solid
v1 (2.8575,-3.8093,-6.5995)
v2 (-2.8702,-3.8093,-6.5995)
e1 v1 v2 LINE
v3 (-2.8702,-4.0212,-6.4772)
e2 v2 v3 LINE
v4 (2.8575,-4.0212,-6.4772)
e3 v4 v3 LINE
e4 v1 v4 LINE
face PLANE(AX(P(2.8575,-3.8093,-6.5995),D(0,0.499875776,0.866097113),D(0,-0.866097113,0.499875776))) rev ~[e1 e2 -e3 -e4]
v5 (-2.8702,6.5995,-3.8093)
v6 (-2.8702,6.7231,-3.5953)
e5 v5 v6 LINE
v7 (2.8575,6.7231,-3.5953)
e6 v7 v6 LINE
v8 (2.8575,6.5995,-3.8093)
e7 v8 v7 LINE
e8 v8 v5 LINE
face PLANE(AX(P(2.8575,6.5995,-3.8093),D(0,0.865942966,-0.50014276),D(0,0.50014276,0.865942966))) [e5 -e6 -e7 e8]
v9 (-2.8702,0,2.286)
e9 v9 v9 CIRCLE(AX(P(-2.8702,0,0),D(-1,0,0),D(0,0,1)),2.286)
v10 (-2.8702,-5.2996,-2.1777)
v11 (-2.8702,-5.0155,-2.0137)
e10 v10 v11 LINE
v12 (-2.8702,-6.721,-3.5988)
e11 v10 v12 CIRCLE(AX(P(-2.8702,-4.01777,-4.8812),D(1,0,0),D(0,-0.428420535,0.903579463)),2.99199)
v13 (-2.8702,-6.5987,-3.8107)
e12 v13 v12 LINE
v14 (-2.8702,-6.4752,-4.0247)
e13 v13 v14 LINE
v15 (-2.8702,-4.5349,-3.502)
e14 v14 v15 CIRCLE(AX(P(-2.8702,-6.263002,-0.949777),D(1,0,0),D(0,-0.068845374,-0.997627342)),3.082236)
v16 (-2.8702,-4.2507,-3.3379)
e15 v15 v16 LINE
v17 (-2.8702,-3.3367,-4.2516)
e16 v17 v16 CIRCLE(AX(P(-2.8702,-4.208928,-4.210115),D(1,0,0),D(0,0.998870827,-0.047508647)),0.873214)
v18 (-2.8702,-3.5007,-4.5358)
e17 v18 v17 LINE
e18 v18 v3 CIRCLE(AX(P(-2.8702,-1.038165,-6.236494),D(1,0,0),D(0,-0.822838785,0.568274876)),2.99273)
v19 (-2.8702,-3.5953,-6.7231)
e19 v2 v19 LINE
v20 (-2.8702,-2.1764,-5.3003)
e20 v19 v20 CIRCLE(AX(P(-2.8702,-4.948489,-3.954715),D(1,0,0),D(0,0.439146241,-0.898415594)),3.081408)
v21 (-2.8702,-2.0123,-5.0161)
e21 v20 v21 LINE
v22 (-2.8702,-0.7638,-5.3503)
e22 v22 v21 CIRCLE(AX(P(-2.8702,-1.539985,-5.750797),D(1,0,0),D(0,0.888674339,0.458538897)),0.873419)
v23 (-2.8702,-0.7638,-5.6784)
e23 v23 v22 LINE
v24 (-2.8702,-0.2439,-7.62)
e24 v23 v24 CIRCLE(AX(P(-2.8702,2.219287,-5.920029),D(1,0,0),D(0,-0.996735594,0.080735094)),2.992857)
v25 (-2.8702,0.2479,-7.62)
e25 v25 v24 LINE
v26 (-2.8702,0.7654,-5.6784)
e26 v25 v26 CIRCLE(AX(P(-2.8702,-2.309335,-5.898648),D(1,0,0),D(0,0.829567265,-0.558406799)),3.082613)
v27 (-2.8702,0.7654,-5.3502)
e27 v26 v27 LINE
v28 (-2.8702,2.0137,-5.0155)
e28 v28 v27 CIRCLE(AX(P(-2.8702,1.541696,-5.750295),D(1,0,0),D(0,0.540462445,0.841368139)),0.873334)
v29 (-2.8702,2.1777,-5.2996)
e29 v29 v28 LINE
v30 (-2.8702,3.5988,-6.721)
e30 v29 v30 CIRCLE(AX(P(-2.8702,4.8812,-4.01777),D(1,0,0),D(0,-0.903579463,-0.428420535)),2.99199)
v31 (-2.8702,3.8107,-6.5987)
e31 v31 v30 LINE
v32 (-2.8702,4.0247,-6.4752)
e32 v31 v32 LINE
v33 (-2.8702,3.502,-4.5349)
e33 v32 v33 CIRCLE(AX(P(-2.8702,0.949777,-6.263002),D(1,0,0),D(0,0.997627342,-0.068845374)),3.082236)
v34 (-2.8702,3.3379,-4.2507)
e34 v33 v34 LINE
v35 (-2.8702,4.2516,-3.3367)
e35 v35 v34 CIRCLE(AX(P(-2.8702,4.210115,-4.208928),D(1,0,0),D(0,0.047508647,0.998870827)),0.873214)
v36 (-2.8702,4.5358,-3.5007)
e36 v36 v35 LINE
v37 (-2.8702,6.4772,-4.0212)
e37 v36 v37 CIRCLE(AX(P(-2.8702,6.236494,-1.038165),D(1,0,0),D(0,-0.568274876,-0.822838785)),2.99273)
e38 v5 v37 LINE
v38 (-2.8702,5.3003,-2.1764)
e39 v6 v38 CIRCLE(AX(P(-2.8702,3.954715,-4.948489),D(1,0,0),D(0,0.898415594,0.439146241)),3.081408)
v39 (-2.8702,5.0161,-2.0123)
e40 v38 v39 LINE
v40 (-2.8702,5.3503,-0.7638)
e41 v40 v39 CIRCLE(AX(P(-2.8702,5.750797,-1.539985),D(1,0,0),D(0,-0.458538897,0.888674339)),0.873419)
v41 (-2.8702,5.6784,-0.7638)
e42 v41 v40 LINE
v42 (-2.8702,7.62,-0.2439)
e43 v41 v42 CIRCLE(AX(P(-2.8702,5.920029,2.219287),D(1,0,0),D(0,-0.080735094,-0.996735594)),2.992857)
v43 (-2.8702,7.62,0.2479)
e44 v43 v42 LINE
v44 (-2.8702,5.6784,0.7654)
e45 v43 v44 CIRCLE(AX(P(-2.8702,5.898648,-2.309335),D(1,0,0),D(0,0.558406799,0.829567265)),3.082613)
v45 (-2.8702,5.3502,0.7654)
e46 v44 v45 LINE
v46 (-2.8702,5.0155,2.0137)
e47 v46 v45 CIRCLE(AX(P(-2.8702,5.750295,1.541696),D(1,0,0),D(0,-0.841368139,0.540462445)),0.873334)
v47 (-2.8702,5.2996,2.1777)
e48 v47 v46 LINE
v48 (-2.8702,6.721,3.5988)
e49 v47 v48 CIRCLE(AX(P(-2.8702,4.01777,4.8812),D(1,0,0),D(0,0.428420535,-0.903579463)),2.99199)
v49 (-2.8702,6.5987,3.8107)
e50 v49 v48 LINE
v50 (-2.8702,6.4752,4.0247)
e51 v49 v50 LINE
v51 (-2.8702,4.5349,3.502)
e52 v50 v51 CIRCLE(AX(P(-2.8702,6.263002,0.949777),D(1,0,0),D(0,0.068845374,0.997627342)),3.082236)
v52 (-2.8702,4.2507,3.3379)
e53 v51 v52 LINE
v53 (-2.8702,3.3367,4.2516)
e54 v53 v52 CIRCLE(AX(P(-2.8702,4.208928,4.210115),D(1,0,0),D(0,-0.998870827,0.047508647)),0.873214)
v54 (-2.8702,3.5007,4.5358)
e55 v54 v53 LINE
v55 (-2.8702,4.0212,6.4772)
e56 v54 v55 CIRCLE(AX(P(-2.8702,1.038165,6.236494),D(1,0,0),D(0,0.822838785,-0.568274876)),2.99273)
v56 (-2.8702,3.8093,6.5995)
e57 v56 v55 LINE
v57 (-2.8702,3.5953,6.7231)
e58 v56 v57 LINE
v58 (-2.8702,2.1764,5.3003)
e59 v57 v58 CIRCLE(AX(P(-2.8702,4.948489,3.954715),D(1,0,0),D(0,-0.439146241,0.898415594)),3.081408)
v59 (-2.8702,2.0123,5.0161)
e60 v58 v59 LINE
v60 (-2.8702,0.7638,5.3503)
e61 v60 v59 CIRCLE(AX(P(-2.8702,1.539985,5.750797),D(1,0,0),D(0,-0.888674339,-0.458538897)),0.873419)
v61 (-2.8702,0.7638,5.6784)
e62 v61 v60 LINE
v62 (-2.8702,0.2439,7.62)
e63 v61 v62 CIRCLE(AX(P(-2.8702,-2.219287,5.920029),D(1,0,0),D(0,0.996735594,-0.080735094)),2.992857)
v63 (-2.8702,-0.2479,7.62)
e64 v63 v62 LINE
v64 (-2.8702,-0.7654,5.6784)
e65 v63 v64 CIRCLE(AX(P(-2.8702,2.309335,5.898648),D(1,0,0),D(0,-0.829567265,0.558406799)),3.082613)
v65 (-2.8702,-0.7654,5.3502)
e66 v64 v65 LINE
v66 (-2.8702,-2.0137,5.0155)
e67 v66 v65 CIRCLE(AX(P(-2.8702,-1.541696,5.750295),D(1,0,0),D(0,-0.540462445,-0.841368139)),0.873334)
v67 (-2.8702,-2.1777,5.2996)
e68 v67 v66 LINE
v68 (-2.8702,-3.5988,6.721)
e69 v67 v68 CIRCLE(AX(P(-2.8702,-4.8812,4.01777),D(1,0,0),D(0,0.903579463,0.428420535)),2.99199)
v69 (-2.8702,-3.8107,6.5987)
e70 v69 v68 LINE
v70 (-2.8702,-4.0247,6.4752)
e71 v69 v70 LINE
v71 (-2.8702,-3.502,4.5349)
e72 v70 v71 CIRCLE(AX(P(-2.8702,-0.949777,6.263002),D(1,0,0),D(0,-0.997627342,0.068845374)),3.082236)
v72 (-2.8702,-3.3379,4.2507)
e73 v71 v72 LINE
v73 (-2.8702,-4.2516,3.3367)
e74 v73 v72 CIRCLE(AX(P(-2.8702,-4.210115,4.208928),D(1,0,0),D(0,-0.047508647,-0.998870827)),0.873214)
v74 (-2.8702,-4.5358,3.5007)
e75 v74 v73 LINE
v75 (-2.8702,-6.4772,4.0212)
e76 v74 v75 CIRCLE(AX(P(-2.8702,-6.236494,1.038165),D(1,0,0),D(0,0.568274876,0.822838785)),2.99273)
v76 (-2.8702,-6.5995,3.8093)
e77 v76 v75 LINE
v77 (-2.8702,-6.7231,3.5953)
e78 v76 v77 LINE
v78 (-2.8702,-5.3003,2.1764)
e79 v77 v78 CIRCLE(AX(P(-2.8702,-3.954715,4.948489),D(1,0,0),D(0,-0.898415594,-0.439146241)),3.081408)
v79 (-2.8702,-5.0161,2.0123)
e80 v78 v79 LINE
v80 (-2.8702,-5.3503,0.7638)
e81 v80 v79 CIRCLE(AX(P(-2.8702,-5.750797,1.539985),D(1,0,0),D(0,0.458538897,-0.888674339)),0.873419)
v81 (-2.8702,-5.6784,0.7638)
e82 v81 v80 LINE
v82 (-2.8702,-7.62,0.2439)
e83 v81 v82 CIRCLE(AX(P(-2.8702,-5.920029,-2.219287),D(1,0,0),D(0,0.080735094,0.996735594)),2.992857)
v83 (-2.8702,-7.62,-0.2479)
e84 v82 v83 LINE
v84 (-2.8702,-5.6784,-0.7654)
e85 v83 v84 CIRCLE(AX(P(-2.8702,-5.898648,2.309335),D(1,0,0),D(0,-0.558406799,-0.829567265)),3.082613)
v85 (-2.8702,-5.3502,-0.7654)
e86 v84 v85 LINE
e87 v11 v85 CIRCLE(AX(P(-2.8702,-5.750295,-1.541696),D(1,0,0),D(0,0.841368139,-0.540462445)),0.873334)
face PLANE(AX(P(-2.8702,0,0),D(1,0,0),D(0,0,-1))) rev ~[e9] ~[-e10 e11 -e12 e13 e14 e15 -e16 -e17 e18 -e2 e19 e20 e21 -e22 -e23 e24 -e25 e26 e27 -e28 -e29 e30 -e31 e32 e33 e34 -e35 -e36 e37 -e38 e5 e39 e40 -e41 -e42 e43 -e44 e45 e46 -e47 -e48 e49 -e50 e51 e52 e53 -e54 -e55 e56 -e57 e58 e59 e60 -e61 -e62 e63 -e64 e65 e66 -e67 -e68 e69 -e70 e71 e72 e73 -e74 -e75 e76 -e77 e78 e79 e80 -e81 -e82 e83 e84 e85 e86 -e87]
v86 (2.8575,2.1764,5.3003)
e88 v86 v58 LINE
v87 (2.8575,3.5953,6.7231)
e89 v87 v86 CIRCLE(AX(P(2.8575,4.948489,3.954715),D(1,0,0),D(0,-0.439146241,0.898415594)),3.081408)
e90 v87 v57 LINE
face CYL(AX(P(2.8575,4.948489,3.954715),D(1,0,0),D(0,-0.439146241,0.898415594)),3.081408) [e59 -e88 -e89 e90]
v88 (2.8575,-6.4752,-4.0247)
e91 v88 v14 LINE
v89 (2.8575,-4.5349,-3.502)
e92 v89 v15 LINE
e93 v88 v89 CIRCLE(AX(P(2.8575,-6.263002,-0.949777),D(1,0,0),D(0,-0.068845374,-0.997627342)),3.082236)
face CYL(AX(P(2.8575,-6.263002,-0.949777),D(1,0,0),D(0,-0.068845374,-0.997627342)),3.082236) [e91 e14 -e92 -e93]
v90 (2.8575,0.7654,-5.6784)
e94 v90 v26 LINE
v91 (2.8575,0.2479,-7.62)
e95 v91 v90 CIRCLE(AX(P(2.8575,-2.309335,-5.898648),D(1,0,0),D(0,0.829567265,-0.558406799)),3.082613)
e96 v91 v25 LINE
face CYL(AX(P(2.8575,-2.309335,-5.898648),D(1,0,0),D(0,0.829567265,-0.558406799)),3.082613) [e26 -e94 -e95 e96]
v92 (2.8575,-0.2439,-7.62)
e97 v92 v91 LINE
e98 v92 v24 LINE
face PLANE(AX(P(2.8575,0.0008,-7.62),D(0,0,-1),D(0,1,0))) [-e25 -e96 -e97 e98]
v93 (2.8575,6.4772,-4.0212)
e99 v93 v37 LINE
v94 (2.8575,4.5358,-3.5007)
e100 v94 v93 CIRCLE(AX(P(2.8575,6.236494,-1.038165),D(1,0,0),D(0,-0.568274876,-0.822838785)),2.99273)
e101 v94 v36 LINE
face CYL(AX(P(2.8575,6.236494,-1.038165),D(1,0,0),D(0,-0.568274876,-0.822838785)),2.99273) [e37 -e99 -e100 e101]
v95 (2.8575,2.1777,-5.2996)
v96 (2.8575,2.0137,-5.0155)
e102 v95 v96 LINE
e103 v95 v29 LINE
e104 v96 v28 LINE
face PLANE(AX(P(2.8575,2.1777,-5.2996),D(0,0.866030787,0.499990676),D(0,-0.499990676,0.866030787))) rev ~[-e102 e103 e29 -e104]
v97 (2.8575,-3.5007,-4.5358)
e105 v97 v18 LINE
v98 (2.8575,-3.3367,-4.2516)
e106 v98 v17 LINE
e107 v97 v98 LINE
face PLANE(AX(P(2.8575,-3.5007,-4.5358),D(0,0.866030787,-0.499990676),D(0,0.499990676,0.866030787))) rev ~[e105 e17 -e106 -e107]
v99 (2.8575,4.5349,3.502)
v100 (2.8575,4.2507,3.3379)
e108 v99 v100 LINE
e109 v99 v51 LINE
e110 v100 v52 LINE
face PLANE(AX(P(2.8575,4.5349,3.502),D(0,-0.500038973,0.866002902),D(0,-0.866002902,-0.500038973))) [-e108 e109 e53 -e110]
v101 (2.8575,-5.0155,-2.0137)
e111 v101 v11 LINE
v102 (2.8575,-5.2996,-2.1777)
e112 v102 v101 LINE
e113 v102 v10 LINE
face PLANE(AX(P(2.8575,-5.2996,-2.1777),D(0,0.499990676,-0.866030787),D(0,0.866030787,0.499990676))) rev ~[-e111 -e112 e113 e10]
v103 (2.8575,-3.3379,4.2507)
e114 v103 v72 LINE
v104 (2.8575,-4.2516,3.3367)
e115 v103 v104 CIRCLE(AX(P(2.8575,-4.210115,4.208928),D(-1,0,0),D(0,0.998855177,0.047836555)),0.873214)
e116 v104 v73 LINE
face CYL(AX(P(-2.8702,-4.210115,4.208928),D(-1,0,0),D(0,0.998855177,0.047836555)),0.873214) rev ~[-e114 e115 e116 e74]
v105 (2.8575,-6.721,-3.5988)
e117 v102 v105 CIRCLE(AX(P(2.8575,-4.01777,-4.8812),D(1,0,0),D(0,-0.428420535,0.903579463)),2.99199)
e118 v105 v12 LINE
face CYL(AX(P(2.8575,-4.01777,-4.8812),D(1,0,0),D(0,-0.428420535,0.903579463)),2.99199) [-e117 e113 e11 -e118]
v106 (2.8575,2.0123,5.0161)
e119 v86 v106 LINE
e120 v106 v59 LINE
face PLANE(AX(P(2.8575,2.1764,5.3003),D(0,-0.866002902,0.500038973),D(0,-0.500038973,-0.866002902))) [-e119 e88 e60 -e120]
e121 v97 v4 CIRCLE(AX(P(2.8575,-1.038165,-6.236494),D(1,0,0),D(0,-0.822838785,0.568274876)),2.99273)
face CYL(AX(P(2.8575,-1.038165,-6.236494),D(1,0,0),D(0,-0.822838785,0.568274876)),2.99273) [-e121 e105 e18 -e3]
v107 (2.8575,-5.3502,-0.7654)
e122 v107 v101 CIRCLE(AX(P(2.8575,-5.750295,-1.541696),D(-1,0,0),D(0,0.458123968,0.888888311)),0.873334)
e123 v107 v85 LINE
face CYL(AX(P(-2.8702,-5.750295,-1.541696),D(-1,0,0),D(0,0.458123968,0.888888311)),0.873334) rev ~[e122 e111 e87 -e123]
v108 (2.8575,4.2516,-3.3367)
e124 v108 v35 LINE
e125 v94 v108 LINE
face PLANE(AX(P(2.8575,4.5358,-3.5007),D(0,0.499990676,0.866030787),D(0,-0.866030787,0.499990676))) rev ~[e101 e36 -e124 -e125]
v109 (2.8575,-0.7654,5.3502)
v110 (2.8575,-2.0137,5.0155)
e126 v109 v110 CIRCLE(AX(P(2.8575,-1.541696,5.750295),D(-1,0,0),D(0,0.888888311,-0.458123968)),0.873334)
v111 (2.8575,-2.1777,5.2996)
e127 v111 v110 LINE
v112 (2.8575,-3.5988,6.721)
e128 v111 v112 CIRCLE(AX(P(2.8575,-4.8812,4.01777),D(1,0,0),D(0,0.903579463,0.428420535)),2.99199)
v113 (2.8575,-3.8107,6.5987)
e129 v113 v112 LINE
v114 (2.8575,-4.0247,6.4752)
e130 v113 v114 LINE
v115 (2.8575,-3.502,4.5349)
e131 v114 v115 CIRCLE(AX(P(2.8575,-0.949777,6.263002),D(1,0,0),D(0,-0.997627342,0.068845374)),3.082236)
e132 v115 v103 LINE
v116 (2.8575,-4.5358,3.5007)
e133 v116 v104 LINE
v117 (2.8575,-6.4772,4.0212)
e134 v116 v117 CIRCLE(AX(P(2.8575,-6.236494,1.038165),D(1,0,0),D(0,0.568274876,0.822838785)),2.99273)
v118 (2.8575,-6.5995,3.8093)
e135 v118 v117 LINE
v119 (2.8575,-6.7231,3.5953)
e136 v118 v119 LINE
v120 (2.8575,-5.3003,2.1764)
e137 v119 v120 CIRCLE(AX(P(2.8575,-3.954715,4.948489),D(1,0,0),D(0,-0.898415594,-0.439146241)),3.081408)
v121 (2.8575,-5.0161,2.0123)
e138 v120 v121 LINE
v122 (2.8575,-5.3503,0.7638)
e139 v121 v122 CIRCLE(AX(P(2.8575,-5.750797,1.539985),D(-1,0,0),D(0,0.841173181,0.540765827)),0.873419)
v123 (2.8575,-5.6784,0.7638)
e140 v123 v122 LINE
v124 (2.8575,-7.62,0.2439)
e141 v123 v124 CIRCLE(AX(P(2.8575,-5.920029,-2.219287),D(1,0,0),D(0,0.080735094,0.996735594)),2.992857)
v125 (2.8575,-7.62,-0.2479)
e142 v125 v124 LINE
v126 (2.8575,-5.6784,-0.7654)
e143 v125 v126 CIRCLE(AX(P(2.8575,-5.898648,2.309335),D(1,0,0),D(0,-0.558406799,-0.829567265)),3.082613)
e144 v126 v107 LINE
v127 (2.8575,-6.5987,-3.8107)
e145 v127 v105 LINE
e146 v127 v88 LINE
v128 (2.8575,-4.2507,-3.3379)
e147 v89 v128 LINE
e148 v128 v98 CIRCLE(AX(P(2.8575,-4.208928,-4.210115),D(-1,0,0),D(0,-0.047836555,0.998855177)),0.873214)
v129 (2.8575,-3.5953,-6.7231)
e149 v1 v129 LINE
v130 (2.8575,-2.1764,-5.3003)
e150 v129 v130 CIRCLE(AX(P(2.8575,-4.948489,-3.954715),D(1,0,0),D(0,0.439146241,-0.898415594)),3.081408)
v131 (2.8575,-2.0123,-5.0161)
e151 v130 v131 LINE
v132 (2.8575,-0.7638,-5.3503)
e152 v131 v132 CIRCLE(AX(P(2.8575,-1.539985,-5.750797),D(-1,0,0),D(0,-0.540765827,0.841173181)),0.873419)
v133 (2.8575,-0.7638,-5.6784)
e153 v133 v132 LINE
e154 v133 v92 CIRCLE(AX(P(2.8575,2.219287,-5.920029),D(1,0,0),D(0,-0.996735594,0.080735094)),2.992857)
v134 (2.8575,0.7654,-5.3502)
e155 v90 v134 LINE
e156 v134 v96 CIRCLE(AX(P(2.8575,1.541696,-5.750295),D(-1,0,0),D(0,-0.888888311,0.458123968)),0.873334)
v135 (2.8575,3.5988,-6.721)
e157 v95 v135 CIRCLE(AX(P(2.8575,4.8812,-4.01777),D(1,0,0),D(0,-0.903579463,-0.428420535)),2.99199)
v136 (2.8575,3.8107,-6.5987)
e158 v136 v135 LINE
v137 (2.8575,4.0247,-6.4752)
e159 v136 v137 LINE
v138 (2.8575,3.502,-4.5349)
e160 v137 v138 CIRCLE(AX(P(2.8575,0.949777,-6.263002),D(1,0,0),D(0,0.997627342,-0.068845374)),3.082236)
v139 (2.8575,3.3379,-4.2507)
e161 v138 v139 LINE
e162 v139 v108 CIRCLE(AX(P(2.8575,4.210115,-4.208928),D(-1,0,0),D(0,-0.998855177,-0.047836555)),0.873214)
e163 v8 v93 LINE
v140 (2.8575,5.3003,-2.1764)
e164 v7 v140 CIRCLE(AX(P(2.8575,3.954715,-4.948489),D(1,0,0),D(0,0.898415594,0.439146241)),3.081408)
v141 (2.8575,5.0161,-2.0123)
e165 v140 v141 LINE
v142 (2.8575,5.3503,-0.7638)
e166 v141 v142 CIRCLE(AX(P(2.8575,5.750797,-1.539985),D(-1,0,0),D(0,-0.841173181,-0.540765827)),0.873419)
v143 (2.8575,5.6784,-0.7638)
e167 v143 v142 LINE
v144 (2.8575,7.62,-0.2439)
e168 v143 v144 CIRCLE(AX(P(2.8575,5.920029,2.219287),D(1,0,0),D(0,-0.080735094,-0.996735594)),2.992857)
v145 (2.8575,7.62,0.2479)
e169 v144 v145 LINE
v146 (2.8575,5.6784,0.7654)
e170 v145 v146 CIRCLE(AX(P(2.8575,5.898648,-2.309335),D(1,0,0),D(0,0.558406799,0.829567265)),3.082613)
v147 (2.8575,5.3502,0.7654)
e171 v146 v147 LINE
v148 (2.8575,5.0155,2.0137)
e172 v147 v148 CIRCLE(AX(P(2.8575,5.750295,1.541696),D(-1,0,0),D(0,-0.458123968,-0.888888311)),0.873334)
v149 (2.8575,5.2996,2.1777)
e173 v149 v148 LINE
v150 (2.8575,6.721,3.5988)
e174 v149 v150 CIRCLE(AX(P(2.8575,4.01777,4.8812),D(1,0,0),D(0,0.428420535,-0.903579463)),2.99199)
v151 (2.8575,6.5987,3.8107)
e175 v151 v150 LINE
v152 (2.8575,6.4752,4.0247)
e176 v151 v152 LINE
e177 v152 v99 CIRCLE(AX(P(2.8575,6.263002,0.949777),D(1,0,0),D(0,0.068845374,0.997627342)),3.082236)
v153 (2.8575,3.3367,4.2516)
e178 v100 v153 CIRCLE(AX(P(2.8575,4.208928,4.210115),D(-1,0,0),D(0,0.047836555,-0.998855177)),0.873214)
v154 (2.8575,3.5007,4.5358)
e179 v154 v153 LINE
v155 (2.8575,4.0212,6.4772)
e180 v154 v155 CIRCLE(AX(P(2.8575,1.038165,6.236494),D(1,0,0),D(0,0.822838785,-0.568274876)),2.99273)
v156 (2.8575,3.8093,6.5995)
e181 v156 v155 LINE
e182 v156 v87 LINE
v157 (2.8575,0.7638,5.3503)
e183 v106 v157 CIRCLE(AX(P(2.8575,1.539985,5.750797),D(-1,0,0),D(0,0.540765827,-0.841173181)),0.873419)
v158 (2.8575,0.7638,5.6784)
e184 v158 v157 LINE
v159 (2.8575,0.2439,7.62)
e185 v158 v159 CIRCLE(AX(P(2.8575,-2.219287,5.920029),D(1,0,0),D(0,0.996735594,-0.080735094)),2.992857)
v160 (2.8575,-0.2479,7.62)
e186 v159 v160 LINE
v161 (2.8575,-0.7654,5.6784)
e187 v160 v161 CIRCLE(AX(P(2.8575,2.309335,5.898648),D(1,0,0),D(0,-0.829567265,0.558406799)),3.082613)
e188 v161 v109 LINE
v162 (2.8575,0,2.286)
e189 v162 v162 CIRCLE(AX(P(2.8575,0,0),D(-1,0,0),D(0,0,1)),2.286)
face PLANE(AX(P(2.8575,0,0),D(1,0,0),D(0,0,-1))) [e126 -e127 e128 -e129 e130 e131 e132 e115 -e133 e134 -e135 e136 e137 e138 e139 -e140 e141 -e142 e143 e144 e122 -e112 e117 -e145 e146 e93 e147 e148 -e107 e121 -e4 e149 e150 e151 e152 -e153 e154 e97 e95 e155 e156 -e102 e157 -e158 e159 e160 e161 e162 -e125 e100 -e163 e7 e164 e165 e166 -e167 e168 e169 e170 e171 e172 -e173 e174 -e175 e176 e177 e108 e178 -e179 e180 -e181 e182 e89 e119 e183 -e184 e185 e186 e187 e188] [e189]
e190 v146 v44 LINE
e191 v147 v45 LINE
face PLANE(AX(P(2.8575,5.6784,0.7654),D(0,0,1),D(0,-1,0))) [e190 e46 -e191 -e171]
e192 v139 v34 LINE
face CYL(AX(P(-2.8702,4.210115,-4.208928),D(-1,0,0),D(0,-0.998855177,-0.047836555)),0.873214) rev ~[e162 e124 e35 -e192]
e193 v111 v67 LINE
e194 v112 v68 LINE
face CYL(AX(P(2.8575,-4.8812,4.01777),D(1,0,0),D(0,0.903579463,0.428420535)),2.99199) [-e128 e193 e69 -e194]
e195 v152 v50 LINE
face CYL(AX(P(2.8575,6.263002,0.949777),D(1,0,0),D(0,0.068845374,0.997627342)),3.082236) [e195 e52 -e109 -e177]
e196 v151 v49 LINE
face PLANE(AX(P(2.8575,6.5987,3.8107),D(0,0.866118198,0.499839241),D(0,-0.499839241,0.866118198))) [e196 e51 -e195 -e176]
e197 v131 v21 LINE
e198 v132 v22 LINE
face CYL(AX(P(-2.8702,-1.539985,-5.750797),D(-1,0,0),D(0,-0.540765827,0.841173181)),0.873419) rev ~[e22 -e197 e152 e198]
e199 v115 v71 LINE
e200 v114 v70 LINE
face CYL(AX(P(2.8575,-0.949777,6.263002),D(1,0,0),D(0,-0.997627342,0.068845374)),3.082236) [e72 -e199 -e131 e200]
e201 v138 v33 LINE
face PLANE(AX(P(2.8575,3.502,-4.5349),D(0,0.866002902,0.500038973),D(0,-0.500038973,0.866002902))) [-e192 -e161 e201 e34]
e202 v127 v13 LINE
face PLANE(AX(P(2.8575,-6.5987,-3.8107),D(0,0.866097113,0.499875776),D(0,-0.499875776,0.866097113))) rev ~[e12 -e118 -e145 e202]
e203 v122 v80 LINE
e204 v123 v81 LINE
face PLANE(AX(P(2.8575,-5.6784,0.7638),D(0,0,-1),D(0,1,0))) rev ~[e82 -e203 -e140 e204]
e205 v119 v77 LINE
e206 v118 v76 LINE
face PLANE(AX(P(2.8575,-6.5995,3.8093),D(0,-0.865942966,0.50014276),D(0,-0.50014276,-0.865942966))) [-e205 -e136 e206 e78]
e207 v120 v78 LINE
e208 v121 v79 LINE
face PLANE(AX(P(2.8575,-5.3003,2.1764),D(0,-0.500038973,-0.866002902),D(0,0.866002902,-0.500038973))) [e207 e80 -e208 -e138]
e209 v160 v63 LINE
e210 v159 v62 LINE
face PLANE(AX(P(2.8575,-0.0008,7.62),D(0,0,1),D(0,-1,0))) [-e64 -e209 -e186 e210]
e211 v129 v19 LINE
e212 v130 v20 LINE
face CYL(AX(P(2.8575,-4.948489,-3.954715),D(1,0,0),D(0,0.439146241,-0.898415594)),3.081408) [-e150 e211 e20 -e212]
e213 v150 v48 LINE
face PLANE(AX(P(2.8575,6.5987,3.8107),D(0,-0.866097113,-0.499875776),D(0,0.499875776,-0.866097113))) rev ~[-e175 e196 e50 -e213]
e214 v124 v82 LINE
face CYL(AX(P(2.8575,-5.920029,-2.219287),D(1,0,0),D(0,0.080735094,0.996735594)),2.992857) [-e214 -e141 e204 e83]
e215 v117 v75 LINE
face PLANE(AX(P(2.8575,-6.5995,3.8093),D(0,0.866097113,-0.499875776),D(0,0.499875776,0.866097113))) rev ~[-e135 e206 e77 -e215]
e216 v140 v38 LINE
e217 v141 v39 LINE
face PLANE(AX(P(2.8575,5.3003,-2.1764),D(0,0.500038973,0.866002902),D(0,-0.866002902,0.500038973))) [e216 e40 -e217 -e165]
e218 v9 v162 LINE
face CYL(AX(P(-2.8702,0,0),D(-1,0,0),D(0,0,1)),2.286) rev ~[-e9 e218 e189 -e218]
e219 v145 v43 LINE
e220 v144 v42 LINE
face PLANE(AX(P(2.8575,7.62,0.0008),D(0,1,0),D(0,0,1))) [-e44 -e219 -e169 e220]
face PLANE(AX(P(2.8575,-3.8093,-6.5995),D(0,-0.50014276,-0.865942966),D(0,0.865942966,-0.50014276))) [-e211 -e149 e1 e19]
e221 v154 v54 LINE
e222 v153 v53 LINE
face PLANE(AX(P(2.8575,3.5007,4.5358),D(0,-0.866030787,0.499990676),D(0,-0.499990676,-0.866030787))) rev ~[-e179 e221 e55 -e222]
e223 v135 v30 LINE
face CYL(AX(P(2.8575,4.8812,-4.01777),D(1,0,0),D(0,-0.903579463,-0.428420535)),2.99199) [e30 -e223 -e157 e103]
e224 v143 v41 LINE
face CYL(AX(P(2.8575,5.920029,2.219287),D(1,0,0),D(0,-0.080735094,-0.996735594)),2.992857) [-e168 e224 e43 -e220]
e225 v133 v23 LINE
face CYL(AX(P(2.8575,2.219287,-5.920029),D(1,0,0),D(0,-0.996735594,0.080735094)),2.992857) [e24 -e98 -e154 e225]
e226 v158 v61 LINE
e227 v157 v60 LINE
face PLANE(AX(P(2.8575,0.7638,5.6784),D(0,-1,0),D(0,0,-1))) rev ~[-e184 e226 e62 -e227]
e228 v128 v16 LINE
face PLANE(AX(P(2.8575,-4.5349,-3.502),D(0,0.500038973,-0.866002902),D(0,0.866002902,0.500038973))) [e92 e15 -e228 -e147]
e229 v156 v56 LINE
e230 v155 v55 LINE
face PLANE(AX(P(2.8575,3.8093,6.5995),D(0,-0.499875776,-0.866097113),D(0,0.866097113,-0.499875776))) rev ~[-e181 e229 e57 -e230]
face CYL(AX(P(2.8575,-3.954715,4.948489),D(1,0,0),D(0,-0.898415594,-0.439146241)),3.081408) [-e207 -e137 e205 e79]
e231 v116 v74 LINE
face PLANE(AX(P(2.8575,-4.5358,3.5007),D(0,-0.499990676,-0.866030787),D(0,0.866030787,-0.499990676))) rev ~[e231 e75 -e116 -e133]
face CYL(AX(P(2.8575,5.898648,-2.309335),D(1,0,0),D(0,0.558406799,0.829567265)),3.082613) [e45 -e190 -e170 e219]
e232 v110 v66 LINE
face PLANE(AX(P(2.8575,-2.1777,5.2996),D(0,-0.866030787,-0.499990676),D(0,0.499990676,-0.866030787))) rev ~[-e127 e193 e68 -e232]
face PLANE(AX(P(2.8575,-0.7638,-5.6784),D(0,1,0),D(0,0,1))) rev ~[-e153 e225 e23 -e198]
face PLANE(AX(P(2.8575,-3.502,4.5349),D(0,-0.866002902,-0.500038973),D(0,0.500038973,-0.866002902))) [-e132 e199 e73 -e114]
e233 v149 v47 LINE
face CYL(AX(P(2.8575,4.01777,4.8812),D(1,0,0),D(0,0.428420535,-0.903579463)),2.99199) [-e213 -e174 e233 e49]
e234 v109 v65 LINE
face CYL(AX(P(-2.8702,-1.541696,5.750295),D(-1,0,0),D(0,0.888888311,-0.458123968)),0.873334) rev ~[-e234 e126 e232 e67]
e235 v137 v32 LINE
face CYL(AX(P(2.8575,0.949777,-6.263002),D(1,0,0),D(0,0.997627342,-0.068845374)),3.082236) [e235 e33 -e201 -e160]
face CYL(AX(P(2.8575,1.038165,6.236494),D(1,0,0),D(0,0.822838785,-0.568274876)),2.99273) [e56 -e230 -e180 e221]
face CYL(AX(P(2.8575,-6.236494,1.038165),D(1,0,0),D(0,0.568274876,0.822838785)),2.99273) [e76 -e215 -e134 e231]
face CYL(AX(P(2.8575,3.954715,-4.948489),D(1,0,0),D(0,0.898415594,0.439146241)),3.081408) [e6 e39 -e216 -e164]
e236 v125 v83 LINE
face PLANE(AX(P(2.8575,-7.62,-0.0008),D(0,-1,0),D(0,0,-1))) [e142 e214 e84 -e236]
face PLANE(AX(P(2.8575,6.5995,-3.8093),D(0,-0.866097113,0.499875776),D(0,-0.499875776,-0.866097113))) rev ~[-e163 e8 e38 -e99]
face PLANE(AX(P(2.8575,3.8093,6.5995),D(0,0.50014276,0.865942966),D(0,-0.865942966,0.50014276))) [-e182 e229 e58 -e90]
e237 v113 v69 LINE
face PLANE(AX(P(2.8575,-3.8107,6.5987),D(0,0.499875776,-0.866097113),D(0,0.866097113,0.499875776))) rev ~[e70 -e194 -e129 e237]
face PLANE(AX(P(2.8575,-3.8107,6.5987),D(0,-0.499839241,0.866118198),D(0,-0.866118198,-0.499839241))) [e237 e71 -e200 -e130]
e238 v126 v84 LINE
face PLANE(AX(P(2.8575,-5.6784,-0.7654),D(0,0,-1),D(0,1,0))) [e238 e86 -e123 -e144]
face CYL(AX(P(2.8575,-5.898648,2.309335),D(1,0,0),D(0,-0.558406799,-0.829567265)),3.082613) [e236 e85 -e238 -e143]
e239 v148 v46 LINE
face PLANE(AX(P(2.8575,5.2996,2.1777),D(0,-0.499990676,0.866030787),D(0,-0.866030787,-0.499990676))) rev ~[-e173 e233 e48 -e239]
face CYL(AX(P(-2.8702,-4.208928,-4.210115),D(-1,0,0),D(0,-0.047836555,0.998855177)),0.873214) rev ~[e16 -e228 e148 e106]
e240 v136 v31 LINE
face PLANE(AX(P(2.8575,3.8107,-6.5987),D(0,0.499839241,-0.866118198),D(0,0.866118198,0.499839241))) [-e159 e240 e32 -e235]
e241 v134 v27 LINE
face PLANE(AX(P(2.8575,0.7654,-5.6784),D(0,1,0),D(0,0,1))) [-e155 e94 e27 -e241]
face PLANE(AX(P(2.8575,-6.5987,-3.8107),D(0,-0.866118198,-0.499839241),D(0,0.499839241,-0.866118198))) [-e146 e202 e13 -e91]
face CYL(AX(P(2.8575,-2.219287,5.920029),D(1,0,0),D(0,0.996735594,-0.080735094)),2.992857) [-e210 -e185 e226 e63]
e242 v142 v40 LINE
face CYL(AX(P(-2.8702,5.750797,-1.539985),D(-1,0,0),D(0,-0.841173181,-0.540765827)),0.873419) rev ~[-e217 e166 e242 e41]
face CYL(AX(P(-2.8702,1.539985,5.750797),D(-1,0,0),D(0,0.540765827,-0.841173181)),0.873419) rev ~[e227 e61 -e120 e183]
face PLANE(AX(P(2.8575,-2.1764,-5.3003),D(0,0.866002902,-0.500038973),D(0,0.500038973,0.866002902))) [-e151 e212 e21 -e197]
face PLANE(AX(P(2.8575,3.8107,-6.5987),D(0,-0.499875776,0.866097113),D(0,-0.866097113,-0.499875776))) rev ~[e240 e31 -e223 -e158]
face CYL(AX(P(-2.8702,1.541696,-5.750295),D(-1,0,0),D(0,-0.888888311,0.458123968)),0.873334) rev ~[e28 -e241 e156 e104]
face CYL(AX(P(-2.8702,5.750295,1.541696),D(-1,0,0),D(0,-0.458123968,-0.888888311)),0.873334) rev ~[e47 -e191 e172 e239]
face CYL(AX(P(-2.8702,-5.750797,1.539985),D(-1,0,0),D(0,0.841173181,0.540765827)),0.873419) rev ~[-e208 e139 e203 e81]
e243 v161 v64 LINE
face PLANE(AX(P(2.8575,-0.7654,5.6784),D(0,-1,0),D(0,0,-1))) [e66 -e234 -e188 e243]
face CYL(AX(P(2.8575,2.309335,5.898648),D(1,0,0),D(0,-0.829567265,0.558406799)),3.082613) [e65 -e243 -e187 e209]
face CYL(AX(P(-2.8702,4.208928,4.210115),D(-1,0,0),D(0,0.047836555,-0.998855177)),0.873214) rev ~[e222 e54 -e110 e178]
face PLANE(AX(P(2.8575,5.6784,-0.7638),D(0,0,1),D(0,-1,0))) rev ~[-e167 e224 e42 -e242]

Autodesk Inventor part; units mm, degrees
ref_plane "YZ Plane" through (0, 0, 0) normal (1, 0, 0) x (0, 1, 0)
ref_plane "XZ Plane" through (0, 0, 0) normal (0, 1, 0) x (-1, 0, 0)
ref_plane "Work Plane2" through (2.8575, 0, 0) normal (1, 0, 0) x (0, 0, -1)
sketch "Sketch6" plane through (2.8575, 0, 0) normal (1, 0, 0) x (0, 0, -1)
  line L0 (0.7654, -5.6784) -> (0.7654, -5.022)
  line L1 (-0.7638, -5.6784) -> (-0.7638, -5.0222)
  arc A0 (5.6006, 2.3498) -> (5.5837, 2.3418) centre (6.3532, 0.7382) ccw
  arc A1 (-0.7638, -5.0222) -> (0.7654, -5.022) centre (0, 0) ccw
  line L2 (0.0008, -7.62) -> (-0.2439, -7.62)
  line L3 (0.0008, -7.62) -> (0.2479, -7.62)
  arc A2 (0.2479, -7.62) -> (0.7654, -5.6784) centre (-2.309, -5.8988) ccw
  arc A3 (-0.7638, -5.6784) -> (-0.2439, -7.62) centre (2.2185, -5.9201) ccw
  arc A4 (3.5877, -3.5965) -> (3.5976, -3.5866) centre (0, 0) ccw
  line L4 (3.502, -4.5349) -> (3.1738, -3.9665)
  line L5 (2.1777, -5.2996) -> (1.8496, -4.7313)
  arc A5 (1.8496, -4.7313) -> (3.1738, -3.9665) centre (0, 0) ccw
  line L6 (3.8107, -6.5987) -> (3.5988, -6.721)
  line L7 (3.8107, -6.5987) -> (4.0247, -6.4752)
  arc A6 (4.0247, -6.4752) -> (3.502, -4.5349) centre (0.9498, -6.263) ccw
  arc A7 (2.1777, -5.2996) -> (3.5988, -6.721) centre (4.8813, -4.0177) ccw
  line L8 (5.3003, -2.1764) -> (4.7319, -1.8482)
  line L9 (4.5358, -3.5007) -> (3.9675, -3.1726)
  arc A8 (3.9675, -3.1726) -> (4.7319, -1.8482) centre (0, 0) ccw
  line L10 (6.5995, -3.8093) -> (6.4772, -4.0212)
  line L11 (6.5995, -3.8093) -> (6.7231, -3.5953)
  arc A9 (6.7231, -3.5953) -> (5.3003, -2.1764) centre (3.954, -4.949) ccw
  arc A10 (4.5358, -3.5007) -> (6.4772, -4.0212) centre (6.2362, -1.0388) ccw
  line L12 (5.6784, 0.7654) -> (5.022, 0.7654)
  line L13 (5.6784, -0.7638) -> (5.0222, -0.7638)
  arc A11 (5.0222, -0.7638) -> (5.022, 0.7654) centre (0, 0) ccw
  line L14 (7.62, 0.0008) -> (7.62, -0.2439)
  line L15 (7.62, 0.0008) -> (7.62, 0.2479)
  arc A12 (7.62, 0.2479) -> (5.6784, 0.7654) centre (5.8988, -2.309) ccw
  arc A13 (5.6784, -0.7638) -> (7.62, -0.2439) centre (5.9201, 2.2185) ccw
  line L16 (4.5349, 3.502) -> (3.9665, 3.1738)
  line L17 (5.2996, 2.1777) -> (4.7313, 1.8496)
  arc A14 (4.7313, 1.8496) -> (3.9665, 3.1738) centre (0, 0) ccw
  line L18 (6.5987, 3.8107) -> (6.721, 3.5988)
  line L19 (6.5987, 3.8107) -> (6.4752, 4.0247)
  arc A15 (6.4752, 4.0247) -> (4.5349, 3.502) centre (6.263, 0.9498) ccw
  arc A16 (5.2996, 2.1777) -> (6.721, 3.5988) centre (4.0177, 4.8813) ccw
  line L20 (2.1764, 5.3003) -> (1.8482, 4.7319)
  line L21 (3.5007, 4.5358) -> (3.1726, 3.9675)
  arc A17 (3.1726, 3.9675) -> (1.8482, 4.7319) centre (0, 0) ccw
  line L22 (3.8093, 6.5995) -> (4.0212, 6.4772)
  line L23 (3.8093, 6.5995) -> (3.5953, 6.7231)
  arc A18 (3.5953, 6.7231) -> (2.1764, 5.3003) centre (4.949, 3.954) ccw
  arc A19 (3.5007, 4.5358) -> (4.0212, 6.4772) centre (1.0388, 6.2362) ccw
  line L24 (-0.7654, 5.6784) -> (-0.7654, 5.022)
  line L25 (0.7638, 5.6784) -> (0.7638, 5.0222)
  arc A20 (0.7638, 5.0222) -> (-0.7654, 5.022) centre (0, 0) ccw
  line L26 (-0.0008, 7.62) -> (0.2439, 7.62)
  line L27 (-0.0008, 7.62) -> (-0.2479, 7.62)
  arc A21 (-0.2479, 7.62) -> (-0.7654, 5.6784) centre (2.309, 5.8988) ccw
  arc A22 (0.7638, 5.6784) -> (0.2439, 7.62) centre (-2.2185, 5.9201) ccw
  line L28 (-3.502, 4.5349) -> (-3.1738, 3.9665)
  line L29 (-2.1777, 5.2996) -> (-1.8496, 4.7313)
  arc A23 (-1.8496, 4.7313) -> (-3.1738, 3.9665) centre (0, 0) ccw
  line L30 (-3.8107, 6.5987) -> (-3.5988, 6.721)
  line L31 (-3.8107, 6.5987) -> (-4.0247, 6.4752)
  arc A24 (-4.0247, 6.4752) -> (-3.502, 4.5349) centre (-0.9498, 6.263) ccw
  arc A25 (-2.1777, 5.2996) -> (-3.5988, 6.721) centre (-4.8813, 4.0177) ccw
  line L32 (-5.3003, 2.1764) -> (-4.7319, 1.8482)
  line L33 (-4.5358, 3.5007) -> (-3.9675, 3.1726)
  arc A26 (-3.9675, 3.1726) -> (-4.7319, 1.8482) centre (0, 0) ccw
  line L34 (-6.5995, 3.8093) -> (-6.4772, 4.0212)
  line L35 (-6.5995, 3.8093) -> (-6.7231, 3.5953)
  arc A27 (-6.7231, 3.5953) -> (-5.3003, 2.1764) centre (-3.954, 4.949) ccw
  arc A28 (-4.5358, 3.5007) -> (-6.4772, 4.0212) centre (-6.2362, 1.0388) ccw
  line L36 (-5.6784, -0.7654) -> (-5.022, -0.7654)
  line L37 (-5.6784, 0.7638) -> (-5.0222, 0.7638)
  arc A29 (-5.0222, 0.7638) -> (-5.022, -0.7654) centre (0, 0) ccw
  line L38 (-7.62, -0.0008) -> (-7.62, 0.2439)
  line L39 (-7.62, -0.0008) -> (-7.62, -0.2479)
  arc A30 (-7.62, -0.2479) -> (-5.6784, -0.7654) centre (-5.8988, 2.309) ccw
  arc A31 (-5.6784, 0.7638) -> (-7.62, 0.2439) centre (-5.9201, -2.2185) ccw
  line L40 (-4.5349, -3.502) -> (-3.9665, -3.1738)
  line L41 (-5.2996, -2.1777) -> (-4.7313, -1.8496)
  arc A32 (-4.7313, -1.8496) -> (-3.9665, -3.1738) centre (0, 0) ccw
  line L42 (-6.5987, -3.8107) -> (-6.721, -3.5988)
  line L43 (-6.5987, -3.8107) -> (-6.4752, -4.0247)
  arc A33 (-6.4752, -4.0247) -> (-4.5349, -3.502) centre (-6.263, -0.9498) ccw
  arc A34 (-5.2996, -2.1777) -> (-6.721, -3.5988) centre (-4.0177, -4.8813) ccw
  line L44 (-2.1764, -5.3003) -> (-1.8482, -4.7319)
  line L45 (-3.5007, -4.5358) -> (-3.1726, -3.9675)
  arc A35 (-3.1726, -3.9675) -> (-1.8482, -4.7319) centre (0, 0) ccw
  line L46 (-3.8093, -6.5995) -> (-4.0212, -6.4772)
  line L47 (-3.8093, -6.5995) -> (-3.5953, -6.7231)
  arc A36 (-3.5953, -6.7231) -> (-2.1764, -5.3003) centre (-4.949, -3.954) ccw
  arc A37 (-3.5007, -4.5358) -> (-4.0212, -6.4772) centre (-1.0388, -6.2362) ccw
  arc A38 (-1.8482, -4.7319) -> (-0.7638, -5.0222) centre (0, 0) ccw
  line L48 (-2.0137, 5.0155) -> (-0.7654, 5.3502)
  line L49 (0.7638, 5.3503) -> (2.0123, 5.0161)
  line L50 (3.3367, 4.2516) -> (4.2507, 3.3379)
  line L51 (5.0155, 2.0137) -> (5.3502, 0.7654)
  line L52 (5.3503, -0.7638) -> (5.0161, -2.0123)
  line L53 (4.2516, -3.3367) -> (3.3379, -4.2507)
  line L54 (2.0137, -5.0155) -> (0.7654, -5.3502)
  line L55 (-0.7638, -5.3503) -> (-2.0123, -5.0161)
  line L56 (-3.3367, -4.2516) -> (-4.2507, -3.3379)
  line L57 (-5.0155, -2.0137) -> (-5.3502, -0.7654)
  line L58 (-5.3503, 0.7638) -> (-5.0161, 2.0123)
  line L59 (-4.2516, 3.3367) -> (-3.3379, 4.2507)
  circle A39 centre (0, 0) radius 5.0531
  point P0 (0, 0)
  point P1 (-4.2516, 3.3367)
  dimension "d94" = 360
extrude "Extrusion19" add sketch "Sketch6" against normal blind 5.7277 contours A2 L3 L2 A3 L1 A1 L0 | L0 A1 A38 A35 L45 L56 L40 A32 L41 L57 L36 A29 L37 L58 L32 A26 L33 L59 L28 A23 L29 L48 L24 A20 L25 L49 L20 A17 L21 L50 L16 A14 L17 L51 L12 A11 L13 L52 L8 A8 L9 L53 L4 A5 L5 L54 | L5 A5 L4 A6 L7 L6 A7 | L1 L55 L44 A38 | L44 A36 L47 L46 A37 L45 A35 | L9 A8 L8 A9 L11 L10 A10 | L40 A33 L43 L42 A34 L41 A32 | L13 A11 L12 A12 L15 L14 A13 | L36 A30 L39 L38 A31 L37 A29 | L17 A14 L16 A15 L19 L18 A16 | L32 A27 L35 L34 A28 L33 A26 | L21 A17 L20 A18 L23 L22 A19 | L28 A24 L31 L30 A25 L29 A23 | L25 A20 L24 A21 L27 L26 A22 | A39
sketch "Sketch7" plane through (-2.8702, 0, 0) normal (-1, 0, 0) x (0, 0, 1)
  circle A0 centre (0, 0) radius 2.286
  dimension "d104" = 4.572
extrude "Extrusion20" cut sketch "Sketch7" against normal blind 2540
sketch "Sketch8" plane through (-2.8702, 0, 0) normal (-1, 0, 0) x (0, 0, 1)
  circle A0 centre (0, 0) radius 5.08
  line L0 (-3.3367, 4.2516) -> (-4.2507, 3.3379) projected
  arc A1 (-4.2507, 3.3379) -> (-3.3367, 4.2516) centre (-4.209, 4.2103) ccw
  line L1 (-3.3367, 4.2516) -> (-3.5007, 4.5358) projected
  line L2 (-4.2507, 3.3379) -> (-3.3367, 4.2516)
  arc A2 (-5.3502, 0.7654) -> (-5.0155, 2.0137) centre (-5.7503, 1.5417) ccw
  line L3 (-5.3502, 0.7654) -> (-5.0155, 2.0137)
  arc A3 (-5.0161, -2.0123) -> (-5.3503, -0.7638) centre (-5.7507, -1.54) ccw
  line L4 (-5.0161, -2.0123) -> (-5.3503, -0.7638)
  arc A4 (-3.3379, -4.2507) -> (-4.2516, -3.3367) centre (-4.2103, -4.209) ccw
  line L5 (-3.3379, -4.2507) -> (-4.2516, -3.3367)
  arc A5 (-0.7654, -5.3502) -> (-2.0137, -5.0155) centre (-1.5417, -5.7503) ccw
  line L6 (-0.7654, -5.3502) -> (-2.0137, -5.0155)
  arc A6 (2.0123, -5.0161) -> (0.7638, -5.3503) centre (1.54, -5.7507) ccw
  line L7 (2.0123, -5.0161) -> (0.7638, -5.3503)
  arc A7 (4.2507, -3.3379) -> (3.3367, -4.2516) centre (4.209, -4.2103) ccw
  line L8 (4.2507, -3.3379) -> (3.3367, -4.2516)
  arc A8 (5.3502, -0.7654) -> (5.0155, -2.0137) centre (5.7503, -1.5417) ccw
  line L9 (5.3502, -0.7654) -> (5.0155, -2.0137)
  arc A9 (5.0161, 2.0123) -> (5.3503, 0.7638) centre (5.7507, 1.54) ccw
  line L10 (5.0161, 2.0123) -> (5.3503, 0.7638)
  arc A10 (3.3379, 4.2507) -> (4.2516, 3.3367) centre (4.2103, 4.209) ccw
  line L11 (3.3379, 4.2507) -> (4.2516, 3.3367)
  arc A11 (0.7654, 5.3502) -> (2.0137, 5.0155) centre (1.5417, 5.7503) ccw
  line L12 (0.7654, 5.3502) -> (2.0137, 5.0155)
  arc A12 (-2.0123, 5.0161) -> (-0.7638, 5.3503) centre (-1.54, 5.7507) ccw
  line L13 (-2.0123, 5.0161) -> (-0.7638, 5.3503)
  dimension "d107" = 10.16
  dimension "d110" = 360
extrude "Extrusion21" cut sketch "Sketch8" against normal blind 2540 contours A8 L9 | A7 L8 | A6 L7 | A5 L6 | A4 L5 | A3 L4 | A2 L3 | A1 L0 | A12 L13 | A11 L12 | A10 L11 | A9 L10
properties part number "Pinion final"
